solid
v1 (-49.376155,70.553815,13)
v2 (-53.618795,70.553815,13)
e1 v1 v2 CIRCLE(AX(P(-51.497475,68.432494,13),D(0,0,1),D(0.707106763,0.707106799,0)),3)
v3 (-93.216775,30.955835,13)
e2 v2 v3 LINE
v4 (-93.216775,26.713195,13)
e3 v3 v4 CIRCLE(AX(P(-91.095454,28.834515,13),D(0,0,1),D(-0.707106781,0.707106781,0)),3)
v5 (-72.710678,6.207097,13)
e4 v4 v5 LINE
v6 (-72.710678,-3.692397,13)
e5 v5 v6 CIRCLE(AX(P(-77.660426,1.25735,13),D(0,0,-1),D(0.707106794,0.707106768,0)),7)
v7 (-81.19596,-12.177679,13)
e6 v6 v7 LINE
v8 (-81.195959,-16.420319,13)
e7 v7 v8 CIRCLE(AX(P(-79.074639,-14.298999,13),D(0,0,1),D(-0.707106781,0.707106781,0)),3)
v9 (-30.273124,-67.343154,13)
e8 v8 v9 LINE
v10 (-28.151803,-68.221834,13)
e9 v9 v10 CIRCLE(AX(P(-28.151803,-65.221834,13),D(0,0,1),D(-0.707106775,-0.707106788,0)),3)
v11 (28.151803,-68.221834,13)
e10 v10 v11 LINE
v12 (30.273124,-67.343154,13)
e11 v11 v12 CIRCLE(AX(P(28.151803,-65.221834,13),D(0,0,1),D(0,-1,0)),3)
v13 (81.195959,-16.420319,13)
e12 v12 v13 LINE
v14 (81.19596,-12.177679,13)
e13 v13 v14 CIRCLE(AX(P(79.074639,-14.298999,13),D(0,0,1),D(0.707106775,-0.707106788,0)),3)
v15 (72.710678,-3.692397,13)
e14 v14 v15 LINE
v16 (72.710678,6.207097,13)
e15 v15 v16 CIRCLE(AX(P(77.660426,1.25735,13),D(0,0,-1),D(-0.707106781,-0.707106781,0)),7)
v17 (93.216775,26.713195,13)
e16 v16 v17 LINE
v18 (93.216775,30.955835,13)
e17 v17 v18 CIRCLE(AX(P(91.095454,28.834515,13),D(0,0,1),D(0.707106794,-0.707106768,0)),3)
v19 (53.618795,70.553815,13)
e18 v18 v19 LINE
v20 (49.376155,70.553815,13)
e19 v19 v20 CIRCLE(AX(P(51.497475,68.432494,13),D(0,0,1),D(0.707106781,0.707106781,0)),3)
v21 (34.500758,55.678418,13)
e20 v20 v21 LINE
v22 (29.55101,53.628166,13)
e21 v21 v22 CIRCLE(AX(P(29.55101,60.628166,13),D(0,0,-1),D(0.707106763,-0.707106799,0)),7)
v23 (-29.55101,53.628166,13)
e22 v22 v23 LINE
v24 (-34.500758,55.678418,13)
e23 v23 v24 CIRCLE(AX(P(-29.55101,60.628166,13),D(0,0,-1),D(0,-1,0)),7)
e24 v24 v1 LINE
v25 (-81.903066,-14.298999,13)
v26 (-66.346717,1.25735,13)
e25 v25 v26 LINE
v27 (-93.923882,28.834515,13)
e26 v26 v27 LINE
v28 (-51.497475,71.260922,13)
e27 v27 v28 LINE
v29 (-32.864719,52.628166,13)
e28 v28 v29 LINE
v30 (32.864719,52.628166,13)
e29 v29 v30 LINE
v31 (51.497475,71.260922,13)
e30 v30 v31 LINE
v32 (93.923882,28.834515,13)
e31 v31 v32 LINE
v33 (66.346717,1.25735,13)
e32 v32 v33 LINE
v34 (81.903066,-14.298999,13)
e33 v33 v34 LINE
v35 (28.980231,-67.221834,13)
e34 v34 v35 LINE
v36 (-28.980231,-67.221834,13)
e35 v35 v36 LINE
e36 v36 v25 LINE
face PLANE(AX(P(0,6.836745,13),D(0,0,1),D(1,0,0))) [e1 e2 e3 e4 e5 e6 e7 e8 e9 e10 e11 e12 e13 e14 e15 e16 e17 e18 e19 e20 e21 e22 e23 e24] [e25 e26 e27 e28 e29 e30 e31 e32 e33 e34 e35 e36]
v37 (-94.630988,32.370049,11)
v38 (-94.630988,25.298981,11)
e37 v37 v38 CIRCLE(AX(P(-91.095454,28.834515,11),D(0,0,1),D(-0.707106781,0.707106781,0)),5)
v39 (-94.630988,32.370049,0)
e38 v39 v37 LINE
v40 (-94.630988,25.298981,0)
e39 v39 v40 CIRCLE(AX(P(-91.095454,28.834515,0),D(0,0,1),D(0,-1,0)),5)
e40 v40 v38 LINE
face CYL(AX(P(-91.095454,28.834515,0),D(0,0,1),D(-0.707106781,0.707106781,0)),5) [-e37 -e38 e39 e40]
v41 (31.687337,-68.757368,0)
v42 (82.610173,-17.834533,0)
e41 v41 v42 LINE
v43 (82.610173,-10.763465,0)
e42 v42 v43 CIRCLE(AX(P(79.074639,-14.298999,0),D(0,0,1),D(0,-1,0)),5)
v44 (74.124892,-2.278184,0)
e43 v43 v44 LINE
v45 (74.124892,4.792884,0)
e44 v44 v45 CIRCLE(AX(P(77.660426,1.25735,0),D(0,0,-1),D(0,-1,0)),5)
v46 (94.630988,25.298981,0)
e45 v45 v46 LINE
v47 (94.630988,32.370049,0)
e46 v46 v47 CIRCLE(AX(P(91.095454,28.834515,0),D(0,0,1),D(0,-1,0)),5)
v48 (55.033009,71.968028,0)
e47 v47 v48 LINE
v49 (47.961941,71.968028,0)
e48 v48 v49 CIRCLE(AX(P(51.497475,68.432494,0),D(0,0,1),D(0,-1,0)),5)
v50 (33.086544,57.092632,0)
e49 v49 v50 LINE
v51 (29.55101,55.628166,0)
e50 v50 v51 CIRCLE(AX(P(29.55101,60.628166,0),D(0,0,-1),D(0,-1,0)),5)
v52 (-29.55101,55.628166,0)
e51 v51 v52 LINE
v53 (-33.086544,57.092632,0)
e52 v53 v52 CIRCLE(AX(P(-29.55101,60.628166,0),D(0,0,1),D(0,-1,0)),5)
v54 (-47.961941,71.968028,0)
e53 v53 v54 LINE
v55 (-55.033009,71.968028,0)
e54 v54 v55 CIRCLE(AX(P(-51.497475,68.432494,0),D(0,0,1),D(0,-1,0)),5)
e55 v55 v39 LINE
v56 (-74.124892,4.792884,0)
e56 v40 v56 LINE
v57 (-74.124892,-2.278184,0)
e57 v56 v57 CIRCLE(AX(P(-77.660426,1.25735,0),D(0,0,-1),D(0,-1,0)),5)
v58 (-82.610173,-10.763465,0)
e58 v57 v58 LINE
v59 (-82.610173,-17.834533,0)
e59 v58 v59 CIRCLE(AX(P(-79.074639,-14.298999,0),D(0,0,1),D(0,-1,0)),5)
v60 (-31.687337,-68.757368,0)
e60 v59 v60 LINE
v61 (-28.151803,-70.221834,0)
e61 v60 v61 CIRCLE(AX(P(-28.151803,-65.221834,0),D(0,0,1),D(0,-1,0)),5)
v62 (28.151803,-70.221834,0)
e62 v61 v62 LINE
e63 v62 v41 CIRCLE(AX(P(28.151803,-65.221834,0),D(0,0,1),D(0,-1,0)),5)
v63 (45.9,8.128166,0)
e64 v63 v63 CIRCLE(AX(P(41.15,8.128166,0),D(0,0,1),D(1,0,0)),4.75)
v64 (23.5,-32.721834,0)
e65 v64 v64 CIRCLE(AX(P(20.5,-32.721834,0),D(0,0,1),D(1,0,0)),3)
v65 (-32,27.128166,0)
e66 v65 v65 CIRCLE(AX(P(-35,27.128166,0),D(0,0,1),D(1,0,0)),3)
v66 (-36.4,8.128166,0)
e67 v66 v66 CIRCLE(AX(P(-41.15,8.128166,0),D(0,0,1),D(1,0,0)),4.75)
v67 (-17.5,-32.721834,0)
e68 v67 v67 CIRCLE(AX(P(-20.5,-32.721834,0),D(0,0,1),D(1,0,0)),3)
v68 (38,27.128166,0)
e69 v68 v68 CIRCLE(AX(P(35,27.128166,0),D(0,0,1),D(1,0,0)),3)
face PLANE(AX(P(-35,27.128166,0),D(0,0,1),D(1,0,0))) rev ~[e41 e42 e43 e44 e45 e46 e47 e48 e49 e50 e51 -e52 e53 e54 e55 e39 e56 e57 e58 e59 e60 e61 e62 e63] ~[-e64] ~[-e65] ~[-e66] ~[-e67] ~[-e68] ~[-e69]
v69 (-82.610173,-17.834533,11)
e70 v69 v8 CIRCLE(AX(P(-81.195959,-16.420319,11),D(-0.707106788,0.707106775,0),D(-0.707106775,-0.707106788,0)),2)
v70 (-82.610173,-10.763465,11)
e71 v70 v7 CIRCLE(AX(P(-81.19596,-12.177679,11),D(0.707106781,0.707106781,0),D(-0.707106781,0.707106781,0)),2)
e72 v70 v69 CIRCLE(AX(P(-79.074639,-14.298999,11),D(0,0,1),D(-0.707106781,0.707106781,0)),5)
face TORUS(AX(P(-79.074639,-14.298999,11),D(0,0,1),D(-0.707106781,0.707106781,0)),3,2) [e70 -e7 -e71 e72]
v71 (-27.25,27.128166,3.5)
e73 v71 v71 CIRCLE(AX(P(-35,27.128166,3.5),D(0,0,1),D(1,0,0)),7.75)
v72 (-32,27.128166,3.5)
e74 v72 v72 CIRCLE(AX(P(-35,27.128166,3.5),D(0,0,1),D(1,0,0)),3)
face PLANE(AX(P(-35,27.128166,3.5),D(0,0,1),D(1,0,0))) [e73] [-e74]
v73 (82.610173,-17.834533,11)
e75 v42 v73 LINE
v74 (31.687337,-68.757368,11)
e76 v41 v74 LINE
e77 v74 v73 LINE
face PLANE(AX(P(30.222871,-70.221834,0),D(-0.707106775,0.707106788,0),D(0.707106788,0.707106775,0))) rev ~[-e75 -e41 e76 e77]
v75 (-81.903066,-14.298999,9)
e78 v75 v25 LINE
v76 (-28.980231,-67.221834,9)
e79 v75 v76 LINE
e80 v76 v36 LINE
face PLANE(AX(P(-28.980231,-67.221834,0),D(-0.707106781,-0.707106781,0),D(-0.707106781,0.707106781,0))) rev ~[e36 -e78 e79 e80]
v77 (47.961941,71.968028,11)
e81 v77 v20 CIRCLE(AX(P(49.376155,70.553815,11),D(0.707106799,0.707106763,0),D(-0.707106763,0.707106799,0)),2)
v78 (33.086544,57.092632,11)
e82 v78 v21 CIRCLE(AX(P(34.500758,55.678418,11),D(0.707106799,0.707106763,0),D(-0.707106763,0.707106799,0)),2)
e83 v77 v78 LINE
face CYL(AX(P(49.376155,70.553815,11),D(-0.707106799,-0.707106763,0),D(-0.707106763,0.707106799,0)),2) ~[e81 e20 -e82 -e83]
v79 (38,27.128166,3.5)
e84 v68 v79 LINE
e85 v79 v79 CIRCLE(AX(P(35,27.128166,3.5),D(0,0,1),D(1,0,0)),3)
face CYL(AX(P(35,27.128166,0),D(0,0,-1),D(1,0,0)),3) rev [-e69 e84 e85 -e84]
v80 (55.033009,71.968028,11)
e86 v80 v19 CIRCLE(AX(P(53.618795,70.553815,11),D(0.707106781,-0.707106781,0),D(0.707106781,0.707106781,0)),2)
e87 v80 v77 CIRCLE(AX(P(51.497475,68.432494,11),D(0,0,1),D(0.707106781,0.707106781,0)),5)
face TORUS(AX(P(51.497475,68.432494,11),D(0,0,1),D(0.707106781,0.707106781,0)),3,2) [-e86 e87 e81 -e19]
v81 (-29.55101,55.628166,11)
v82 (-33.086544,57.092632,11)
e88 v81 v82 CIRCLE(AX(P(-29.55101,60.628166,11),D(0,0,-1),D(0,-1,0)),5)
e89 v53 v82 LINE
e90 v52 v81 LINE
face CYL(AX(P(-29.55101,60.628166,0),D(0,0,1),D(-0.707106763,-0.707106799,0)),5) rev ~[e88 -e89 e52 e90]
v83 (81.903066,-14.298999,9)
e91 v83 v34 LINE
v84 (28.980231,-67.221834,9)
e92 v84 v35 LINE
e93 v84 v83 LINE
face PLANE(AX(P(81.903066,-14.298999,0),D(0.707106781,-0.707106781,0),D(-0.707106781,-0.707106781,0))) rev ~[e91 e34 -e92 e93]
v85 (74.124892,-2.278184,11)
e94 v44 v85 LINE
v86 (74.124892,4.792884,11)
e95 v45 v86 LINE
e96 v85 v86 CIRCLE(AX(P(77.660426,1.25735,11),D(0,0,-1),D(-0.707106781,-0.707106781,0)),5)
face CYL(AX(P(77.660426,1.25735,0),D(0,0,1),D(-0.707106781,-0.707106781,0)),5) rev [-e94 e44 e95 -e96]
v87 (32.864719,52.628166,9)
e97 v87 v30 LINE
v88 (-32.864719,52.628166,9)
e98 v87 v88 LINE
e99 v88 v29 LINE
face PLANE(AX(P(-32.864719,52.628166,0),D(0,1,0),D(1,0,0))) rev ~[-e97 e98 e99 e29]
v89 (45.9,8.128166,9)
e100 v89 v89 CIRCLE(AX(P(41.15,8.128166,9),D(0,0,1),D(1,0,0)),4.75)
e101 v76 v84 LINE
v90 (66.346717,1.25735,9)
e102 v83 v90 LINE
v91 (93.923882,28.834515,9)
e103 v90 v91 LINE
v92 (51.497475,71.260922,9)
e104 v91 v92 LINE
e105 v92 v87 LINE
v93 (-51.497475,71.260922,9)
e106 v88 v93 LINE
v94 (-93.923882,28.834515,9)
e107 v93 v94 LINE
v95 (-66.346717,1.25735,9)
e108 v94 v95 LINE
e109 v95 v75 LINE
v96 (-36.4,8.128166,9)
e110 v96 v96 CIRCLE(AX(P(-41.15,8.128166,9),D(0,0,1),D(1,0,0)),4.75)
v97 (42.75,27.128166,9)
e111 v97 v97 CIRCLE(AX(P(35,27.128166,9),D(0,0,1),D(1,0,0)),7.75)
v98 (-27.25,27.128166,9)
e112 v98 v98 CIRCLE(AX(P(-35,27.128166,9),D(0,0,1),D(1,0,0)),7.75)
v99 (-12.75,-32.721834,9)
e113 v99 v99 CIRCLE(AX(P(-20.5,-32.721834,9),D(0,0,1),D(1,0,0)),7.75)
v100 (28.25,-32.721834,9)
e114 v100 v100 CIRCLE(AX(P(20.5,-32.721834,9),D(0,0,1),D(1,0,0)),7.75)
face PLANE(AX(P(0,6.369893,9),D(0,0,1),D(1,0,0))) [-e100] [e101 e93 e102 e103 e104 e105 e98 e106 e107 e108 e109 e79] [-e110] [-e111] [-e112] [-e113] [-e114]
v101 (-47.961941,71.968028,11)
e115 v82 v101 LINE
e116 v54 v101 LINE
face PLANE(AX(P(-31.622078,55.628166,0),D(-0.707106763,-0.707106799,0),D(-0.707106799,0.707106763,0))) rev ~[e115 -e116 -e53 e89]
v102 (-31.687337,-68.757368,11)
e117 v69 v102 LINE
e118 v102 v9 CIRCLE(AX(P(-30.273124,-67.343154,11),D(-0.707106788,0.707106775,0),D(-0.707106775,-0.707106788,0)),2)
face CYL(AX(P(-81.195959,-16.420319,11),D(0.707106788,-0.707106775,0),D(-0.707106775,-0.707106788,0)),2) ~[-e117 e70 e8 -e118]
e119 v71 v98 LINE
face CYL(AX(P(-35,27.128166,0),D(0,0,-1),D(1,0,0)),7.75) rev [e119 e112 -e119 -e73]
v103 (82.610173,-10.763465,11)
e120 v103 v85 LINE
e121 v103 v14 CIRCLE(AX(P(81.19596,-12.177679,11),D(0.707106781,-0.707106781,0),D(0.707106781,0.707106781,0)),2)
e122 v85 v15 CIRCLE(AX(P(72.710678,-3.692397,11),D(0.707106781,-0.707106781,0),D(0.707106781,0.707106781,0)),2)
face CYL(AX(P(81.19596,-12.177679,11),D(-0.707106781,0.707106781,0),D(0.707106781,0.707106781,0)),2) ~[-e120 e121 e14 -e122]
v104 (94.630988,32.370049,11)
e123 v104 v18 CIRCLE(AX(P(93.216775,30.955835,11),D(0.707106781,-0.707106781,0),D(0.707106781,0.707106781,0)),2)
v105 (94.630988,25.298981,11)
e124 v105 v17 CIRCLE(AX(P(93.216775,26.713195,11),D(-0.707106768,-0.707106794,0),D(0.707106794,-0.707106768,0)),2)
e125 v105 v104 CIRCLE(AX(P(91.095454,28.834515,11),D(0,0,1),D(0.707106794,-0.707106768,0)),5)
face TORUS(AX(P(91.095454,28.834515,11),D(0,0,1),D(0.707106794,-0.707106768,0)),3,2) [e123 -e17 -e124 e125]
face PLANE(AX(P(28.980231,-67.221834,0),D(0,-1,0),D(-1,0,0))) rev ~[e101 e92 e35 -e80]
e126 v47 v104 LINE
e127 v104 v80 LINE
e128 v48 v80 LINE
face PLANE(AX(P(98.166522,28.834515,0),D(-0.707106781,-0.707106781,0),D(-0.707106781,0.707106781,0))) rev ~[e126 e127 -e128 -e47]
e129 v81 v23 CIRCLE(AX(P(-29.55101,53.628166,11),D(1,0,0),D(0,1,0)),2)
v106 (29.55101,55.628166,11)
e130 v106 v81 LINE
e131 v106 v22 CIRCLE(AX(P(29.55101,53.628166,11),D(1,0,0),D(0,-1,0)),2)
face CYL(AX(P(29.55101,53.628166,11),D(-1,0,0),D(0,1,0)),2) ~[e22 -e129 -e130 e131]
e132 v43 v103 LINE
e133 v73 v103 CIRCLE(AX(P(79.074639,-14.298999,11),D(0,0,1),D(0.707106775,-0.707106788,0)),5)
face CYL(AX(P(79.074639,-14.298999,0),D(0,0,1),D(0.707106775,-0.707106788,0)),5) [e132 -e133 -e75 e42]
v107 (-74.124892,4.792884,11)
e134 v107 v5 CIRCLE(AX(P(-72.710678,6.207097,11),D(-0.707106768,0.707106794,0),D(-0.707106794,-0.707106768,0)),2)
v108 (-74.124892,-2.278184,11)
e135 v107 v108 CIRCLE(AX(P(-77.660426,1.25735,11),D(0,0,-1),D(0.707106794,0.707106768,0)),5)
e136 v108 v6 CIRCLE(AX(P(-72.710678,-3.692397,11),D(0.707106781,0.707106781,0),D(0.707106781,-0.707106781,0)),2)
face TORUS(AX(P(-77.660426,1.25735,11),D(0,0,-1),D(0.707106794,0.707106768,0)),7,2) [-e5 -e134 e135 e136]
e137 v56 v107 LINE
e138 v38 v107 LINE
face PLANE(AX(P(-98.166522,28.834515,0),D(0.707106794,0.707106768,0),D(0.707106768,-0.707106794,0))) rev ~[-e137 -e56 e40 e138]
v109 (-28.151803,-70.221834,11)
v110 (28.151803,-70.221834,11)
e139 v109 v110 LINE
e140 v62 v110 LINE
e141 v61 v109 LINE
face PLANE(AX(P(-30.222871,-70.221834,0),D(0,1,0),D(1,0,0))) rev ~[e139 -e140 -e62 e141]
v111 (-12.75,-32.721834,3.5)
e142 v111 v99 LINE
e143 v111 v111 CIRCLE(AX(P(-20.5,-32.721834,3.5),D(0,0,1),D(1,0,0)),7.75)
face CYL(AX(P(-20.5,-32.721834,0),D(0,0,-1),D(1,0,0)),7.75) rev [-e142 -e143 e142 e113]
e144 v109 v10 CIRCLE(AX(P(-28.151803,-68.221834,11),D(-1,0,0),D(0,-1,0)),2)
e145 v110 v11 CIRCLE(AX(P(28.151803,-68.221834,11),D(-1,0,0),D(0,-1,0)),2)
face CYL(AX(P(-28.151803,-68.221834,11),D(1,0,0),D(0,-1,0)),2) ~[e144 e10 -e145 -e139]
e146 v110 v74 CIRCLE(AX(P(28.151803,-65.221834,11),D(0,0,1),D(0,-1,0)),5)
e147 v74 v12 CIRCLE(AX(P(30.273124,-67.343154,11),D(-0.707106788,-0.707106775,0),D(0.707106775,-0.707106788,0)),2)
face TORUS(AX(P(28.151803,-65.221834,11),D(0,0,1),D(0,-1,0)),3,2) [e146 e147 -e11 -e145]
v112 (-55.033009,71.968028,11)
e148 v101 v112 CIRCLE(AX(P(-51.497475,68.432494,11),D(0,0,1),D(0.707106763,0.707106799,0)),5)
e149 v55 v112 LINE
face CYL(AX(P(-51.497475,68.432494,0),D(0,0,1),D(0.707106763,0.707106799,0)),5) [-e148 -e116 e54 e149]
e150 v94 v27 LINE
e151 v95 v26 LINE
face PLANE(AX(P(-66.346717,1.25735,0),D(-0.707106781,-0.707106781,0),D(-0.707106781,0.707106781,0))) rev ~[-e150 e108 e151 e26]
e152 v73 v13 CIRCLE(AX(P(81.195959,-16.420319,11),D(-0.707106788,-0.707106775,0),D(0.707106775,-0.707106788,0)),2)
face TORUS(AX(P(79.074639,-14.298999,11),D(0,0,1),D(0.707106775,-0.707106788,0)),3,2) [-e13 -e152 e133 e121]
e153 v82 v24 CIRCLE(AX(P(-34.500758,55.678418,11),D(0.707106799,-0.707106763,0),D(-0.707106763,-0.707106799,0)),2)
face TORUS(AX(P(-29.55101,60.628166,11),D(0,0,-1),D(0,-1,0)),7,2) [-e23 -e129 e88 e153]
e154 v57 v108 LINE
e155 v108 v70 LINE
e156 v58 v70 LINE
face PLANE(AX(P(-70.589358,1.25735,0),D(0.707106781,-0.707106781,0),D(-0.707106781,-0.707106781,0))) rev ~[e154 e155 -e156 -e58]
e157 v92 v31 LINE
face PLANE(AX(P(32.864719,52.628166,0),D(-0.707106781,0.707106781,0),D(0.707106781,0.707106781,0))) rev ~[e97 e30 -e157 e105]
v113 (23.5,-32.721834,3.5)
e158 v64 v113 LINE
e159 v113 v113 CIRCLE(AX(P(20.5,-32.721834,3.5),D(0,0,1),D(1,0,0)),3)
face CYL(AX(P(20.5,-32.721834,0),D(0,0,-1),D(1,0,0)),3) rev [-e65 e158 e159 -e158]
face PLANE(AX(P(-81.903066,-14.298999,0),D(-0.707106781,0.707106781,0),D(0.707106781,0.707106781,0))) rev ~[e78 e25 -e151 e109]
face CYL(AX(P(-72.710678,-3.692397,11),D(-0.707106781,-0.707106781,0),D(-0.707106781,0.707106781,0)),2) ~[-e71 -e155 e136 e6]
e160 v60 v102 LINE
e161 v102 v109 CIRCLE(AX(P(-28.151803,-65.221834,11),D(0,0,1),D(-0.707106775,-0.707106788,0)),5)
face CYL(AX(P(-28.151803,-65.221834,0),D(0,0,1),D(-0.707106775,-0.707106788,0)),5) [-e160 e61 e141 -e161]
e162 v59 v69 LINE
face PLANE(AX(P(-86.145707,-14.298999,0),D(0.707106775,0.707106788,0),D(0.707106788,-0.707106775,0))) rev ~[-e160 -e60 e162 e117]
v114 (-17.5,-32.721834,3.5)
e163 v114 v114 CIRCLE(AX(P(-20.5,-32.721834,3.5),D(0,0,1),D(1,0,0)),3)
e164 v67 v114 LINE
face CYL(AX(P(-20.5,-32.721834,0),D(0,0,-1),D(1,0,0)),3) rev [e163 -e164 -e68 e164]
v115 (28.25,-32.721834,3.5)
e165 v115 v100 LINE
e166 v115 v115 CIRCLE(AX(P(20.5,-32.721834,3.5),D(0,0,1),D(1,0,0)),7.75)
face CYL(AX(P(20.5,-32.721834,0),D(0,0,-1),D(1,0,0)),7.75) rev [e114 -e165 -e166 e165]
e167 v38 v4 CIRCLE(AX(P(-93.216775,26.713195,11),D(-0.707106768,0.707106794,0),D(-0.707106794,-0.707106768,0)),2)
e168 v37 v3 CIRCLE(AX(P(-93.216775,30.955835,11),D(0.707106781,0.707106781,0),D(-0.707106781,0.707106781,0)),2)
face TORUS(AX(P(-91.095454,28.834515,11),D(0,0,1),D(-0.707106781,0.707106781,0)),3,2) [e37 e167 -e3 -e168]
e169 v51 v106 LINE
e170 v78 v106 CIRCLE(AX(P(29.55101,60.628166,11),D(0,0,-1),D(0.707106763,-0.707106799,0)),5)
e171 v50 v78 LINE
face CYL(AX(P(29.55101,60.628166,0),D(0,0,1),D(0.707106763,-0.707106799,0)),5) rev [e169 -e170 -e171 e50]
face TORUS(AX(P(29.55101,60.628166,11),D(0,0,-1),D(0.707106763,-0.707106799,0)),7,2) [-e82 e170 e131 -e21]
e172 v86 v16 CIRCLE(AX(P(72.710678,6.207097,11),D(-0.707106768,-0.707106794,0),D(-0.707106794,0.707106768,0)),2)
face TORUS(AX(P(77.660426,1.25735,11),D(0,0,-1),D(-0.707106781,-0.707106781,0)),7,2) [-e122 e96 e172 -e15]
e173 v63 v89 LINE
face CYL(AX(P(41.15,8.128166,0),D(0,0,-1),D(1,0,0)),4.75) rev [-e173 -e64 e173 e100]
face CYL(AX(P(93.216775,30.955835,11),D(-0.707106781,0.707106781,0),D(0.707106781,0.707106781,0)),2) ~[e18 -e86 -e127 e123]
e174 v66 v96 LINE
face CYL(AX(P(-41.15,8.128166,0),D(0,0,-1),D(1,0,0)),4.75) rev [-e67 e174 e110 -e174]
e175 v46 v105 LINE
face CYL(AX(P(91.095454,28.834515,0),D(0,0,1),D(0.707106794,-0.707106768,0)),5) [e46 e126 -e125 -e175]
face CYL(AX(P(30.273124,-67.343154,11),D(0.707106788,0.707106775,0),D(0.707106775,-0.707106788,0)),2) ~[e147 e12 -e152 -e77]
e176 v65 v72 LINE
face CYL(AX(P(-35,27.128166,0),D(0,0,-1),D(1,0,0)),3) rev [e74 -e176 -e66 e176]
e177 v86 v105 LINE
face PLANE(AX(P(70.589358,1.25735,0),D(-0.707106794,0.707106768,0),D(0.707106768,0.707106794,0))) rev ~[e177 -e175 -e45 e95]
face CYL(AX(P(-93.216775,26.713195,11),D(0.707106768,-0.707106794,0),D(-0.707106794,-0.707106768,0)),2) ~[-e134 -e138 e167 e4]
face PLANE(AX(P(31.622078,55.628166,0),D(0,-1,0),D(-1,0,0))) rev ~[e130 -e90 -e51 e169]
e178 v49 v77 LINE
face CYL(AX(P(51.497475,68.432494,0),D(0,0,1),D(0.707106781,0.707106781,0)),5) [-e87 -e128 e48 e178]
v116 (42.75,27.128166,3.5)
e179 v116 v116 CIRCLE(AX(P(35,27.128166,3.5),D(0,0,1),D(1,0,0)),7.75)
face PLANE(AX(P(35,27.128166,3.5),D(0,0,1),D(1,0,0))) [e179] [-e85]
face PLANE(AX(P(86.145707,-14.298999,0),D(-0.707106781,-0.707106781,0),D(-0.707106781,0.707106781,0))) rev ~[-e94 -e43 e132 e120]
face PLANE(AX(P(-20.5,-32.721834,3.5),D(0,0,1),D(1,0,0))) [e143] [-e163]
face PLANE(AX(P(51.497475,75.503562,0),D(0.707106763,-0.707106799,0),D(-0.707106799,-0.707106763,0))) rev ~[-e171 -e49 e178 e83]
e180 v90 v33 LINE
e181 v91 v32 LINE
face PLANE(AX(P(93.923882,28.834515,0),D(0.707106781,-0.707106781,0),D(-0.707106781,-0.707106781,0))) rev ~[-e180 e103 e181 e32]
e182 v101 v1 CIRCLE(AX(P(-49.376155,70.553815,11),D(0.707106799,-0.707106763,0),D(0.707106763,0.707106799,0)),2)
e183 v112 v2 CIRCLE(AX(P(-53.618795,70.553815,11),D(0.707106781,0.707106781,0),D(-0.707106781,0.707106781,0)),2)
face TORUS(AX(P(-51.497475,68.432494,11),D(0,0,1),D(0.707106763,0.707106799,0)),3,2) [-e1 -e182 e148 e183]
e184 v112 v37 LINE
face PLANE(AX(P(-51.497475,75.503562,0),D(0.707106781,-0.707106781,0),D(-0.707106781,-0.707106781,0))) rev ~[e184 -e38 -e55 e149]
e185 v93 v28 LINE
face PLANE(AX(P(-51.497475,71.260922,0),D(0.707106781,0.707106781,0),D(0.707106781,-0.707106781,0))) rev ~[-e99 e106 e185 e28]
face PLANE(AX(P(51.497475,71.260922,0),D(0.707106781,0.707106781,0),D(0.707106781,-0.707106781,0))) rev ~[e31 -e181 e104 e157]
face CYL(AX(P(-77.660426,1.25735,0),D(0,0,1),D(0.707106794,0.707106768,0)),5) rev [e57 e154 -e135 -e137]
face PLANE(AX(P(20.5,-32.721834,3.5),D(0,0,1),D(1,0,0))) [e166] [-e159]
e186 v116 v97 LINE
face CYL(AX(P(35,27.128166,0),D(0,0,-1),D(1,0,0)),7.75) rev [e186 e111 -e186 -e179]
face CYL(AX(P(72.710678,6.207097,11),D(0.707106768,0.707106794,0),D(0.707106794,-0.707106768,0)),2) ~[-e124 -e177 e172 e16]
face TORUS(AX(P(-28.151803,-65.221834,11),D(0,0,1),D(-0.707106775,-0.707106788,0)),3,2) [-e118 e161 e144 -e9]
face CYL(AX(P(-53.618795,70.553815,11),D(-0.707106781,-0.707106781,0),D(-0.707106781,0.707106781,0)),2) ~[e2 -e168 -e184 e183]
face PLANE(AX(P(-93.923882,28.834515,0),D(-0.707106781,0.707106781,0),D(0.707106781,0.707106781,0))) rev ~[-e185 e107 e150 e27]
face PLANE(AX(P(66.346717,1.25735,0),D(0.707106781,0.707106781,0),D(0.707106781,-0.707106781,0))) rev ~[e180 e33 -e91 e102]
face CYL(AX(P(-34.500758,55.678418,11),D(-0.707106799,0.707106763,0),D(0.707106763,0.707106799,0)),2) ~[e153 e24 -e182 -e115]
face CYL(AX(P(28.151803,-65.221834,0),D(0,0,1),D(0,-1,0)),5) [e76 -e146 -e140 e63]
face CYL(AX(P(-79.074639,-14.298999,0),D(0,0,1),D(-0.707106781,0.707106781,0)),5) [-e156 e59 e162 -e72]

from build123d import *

# Parameters (mm, degrees)
F2_R     = 7.75
F2_R_2   = 4.75
F3_DEPTH = 9
F4_DEPTH = 13
F0_R     = 7.75
F0_R_2   = 3
F5_DEPTH = 3.5
F6_R     = 5
F7_R     = 2


with BuildPart() as f3:
    # F2 (on Top) → F3 (new body)
    with BuildSketch(Plane.XY):
        Polygon((32.864719, 52.628166), (0, 52.628166), (-32.864719, 52.628166), (-51.497475, 71.260922), (-93.923882, 28.834515), (-66.346717, 1.25735), (-81.903066, -14.298999), (-28.980231, -67.221834), (0, -67.221834), (28.980231, -67.221834), (81.903066, -14.298999), (66.346717, 1.25735), (93.923882, 28.834515), (51.497475, 71.260922), align=None)
        with Locations((-20.5, -32.721834)):
            Circle(F2_R, mode=Mode.SUBTRACT)
        with Locations((20.5, -32.721834)):
            Circle(F2_R, mode=Mode.SUBTRACT)
        with Locations((-41.15, 8.128166)):
            Circle(F2_R_2, mode=Mode.SUBTRACT)
        with Locations((-35, 27.128166)):
            Circle(F2_R, mode=Mode.SUBTRACT)
        with Locations((41.15, 8.128166)):
            Circle(F2_R_2, mode=Mode.SUBTRACT)
        with Locations((35, 27.128166)):
            Circle(F2_R, mode=Mode.SUBTRACT)
    extrude(amount=F3_DEPTH)

    # F2 (on Top) → F4 (join)
    with BuildSketch(Plane.XY):
        Polygon((0, 55.628166), (-31.622078, 55.628166), (-51.497475, 75.503562), (-98.166522, 28.834515), (-70.589358, 1.25735), (-86.145707, -14.298999), (-30.222871, -70.221834), (0, -70.221834), (30.222871, -70.221834), (86.145707, -14.298999), (70.589358, 1.25735), (98.166522, 28.834515), (51.497475, 75.503562), (31.622078, 55.628166), align=None)
        Polygon((-32.864719, 52.628166), (0, 52.628166), (32.864719, 52.628166), (51.497475, 71.260922), (93.923882, 28.834515), (66.346717, 1.25735), (81.903066, -14.298999), (28.980231, -67.221834), (0, -67.221834), (-28.980231, -67.221834), (-81.903066, -14.298999), (-66.346717, 1.25735), (-93.923882, 28.834515), (-51.497475, 71.260922), align=None, mode=Mode.SUBTRACT)
    extrude(amount=F4_DEPTH)

    # F0 (on Top) → F5 (join)
    with BuildSketch(Plane.XY):
        with Locations((-35, 27.128166)):
            Circle(F0_R)
        with Locations((-35, 27.128166)):
            Circle(F0_R_2, mode=Mode.SUBTRACT)
        with Locations((35, 27.128166)):
            Circle(F0_R)
        with Locations((35, 27.128166)):
            Circle(F0_R_2, mode=Mode.SUBTRACT)
        with Locations((20.5, -32.721834)):
            Circle(F0_R)
        with Locations((20.5, -32.721834)):
            Circle(F0_R_2, mode=Mode.SUBTRACT)
        with Locations((-20.5, -32.721834)):
            Circle(F0_R)
        with Locations((-20.5, -32.721834)):
            Circle(F0_R_2, mode=Mode.SUBTRACT)
    extrude(amount=F5_DEPTH)

    # F6
    f6_edges = [f3.edges().sort_by_distance(p)[0] for p in [
        (-51.497475, 75.503562, 6.5),
        (-31.622078, 55.628166, 6.5),
        (51.497475, 75.503562, 6.5),
        (98.166522, 28.834515, 6.5),
        (70.589358, 1.25735, 6.5),
        (86.145707, -14.298999, 6.5),
        (30.222871, -70.221834, 6.5),
        (-30.222871, -70.221834, 6.5),
        (-86.145707, -14.298999, 6.5),
        (-70.589358, 1.25735, 6.5),
        (-98.166522, 28.834515, 6.5),
        (31.622078, 55.628166, 6.5),
    ]]
    fillet(f6_edges, radius=F6_R)

    # F7
    f7_edges = [f3.edges().sort_by_distance(p)[0] for p in [
        (-74.831998, 52.169039, 13),
        (-40.524242, 64.53033, 13),
        (0, 55.628166, 13),
        (40.524242, 64.53033, 13),
        (74.831998, 52.169039, 13),
        (84.37794, 15.045933, 13),
        (78.367532, -6.520824, 13),
        (57.148755, -43.295951, 13),
        (0, -70.221834, 13),
        (-57.148755, -43.295951, 13),
        (-78.367532, -6.520824, 13),
        (-84.37794, 15.045933, 13),
    ]]
    fillet(f7_edges, radius=F7_R)


solid = f3.part
